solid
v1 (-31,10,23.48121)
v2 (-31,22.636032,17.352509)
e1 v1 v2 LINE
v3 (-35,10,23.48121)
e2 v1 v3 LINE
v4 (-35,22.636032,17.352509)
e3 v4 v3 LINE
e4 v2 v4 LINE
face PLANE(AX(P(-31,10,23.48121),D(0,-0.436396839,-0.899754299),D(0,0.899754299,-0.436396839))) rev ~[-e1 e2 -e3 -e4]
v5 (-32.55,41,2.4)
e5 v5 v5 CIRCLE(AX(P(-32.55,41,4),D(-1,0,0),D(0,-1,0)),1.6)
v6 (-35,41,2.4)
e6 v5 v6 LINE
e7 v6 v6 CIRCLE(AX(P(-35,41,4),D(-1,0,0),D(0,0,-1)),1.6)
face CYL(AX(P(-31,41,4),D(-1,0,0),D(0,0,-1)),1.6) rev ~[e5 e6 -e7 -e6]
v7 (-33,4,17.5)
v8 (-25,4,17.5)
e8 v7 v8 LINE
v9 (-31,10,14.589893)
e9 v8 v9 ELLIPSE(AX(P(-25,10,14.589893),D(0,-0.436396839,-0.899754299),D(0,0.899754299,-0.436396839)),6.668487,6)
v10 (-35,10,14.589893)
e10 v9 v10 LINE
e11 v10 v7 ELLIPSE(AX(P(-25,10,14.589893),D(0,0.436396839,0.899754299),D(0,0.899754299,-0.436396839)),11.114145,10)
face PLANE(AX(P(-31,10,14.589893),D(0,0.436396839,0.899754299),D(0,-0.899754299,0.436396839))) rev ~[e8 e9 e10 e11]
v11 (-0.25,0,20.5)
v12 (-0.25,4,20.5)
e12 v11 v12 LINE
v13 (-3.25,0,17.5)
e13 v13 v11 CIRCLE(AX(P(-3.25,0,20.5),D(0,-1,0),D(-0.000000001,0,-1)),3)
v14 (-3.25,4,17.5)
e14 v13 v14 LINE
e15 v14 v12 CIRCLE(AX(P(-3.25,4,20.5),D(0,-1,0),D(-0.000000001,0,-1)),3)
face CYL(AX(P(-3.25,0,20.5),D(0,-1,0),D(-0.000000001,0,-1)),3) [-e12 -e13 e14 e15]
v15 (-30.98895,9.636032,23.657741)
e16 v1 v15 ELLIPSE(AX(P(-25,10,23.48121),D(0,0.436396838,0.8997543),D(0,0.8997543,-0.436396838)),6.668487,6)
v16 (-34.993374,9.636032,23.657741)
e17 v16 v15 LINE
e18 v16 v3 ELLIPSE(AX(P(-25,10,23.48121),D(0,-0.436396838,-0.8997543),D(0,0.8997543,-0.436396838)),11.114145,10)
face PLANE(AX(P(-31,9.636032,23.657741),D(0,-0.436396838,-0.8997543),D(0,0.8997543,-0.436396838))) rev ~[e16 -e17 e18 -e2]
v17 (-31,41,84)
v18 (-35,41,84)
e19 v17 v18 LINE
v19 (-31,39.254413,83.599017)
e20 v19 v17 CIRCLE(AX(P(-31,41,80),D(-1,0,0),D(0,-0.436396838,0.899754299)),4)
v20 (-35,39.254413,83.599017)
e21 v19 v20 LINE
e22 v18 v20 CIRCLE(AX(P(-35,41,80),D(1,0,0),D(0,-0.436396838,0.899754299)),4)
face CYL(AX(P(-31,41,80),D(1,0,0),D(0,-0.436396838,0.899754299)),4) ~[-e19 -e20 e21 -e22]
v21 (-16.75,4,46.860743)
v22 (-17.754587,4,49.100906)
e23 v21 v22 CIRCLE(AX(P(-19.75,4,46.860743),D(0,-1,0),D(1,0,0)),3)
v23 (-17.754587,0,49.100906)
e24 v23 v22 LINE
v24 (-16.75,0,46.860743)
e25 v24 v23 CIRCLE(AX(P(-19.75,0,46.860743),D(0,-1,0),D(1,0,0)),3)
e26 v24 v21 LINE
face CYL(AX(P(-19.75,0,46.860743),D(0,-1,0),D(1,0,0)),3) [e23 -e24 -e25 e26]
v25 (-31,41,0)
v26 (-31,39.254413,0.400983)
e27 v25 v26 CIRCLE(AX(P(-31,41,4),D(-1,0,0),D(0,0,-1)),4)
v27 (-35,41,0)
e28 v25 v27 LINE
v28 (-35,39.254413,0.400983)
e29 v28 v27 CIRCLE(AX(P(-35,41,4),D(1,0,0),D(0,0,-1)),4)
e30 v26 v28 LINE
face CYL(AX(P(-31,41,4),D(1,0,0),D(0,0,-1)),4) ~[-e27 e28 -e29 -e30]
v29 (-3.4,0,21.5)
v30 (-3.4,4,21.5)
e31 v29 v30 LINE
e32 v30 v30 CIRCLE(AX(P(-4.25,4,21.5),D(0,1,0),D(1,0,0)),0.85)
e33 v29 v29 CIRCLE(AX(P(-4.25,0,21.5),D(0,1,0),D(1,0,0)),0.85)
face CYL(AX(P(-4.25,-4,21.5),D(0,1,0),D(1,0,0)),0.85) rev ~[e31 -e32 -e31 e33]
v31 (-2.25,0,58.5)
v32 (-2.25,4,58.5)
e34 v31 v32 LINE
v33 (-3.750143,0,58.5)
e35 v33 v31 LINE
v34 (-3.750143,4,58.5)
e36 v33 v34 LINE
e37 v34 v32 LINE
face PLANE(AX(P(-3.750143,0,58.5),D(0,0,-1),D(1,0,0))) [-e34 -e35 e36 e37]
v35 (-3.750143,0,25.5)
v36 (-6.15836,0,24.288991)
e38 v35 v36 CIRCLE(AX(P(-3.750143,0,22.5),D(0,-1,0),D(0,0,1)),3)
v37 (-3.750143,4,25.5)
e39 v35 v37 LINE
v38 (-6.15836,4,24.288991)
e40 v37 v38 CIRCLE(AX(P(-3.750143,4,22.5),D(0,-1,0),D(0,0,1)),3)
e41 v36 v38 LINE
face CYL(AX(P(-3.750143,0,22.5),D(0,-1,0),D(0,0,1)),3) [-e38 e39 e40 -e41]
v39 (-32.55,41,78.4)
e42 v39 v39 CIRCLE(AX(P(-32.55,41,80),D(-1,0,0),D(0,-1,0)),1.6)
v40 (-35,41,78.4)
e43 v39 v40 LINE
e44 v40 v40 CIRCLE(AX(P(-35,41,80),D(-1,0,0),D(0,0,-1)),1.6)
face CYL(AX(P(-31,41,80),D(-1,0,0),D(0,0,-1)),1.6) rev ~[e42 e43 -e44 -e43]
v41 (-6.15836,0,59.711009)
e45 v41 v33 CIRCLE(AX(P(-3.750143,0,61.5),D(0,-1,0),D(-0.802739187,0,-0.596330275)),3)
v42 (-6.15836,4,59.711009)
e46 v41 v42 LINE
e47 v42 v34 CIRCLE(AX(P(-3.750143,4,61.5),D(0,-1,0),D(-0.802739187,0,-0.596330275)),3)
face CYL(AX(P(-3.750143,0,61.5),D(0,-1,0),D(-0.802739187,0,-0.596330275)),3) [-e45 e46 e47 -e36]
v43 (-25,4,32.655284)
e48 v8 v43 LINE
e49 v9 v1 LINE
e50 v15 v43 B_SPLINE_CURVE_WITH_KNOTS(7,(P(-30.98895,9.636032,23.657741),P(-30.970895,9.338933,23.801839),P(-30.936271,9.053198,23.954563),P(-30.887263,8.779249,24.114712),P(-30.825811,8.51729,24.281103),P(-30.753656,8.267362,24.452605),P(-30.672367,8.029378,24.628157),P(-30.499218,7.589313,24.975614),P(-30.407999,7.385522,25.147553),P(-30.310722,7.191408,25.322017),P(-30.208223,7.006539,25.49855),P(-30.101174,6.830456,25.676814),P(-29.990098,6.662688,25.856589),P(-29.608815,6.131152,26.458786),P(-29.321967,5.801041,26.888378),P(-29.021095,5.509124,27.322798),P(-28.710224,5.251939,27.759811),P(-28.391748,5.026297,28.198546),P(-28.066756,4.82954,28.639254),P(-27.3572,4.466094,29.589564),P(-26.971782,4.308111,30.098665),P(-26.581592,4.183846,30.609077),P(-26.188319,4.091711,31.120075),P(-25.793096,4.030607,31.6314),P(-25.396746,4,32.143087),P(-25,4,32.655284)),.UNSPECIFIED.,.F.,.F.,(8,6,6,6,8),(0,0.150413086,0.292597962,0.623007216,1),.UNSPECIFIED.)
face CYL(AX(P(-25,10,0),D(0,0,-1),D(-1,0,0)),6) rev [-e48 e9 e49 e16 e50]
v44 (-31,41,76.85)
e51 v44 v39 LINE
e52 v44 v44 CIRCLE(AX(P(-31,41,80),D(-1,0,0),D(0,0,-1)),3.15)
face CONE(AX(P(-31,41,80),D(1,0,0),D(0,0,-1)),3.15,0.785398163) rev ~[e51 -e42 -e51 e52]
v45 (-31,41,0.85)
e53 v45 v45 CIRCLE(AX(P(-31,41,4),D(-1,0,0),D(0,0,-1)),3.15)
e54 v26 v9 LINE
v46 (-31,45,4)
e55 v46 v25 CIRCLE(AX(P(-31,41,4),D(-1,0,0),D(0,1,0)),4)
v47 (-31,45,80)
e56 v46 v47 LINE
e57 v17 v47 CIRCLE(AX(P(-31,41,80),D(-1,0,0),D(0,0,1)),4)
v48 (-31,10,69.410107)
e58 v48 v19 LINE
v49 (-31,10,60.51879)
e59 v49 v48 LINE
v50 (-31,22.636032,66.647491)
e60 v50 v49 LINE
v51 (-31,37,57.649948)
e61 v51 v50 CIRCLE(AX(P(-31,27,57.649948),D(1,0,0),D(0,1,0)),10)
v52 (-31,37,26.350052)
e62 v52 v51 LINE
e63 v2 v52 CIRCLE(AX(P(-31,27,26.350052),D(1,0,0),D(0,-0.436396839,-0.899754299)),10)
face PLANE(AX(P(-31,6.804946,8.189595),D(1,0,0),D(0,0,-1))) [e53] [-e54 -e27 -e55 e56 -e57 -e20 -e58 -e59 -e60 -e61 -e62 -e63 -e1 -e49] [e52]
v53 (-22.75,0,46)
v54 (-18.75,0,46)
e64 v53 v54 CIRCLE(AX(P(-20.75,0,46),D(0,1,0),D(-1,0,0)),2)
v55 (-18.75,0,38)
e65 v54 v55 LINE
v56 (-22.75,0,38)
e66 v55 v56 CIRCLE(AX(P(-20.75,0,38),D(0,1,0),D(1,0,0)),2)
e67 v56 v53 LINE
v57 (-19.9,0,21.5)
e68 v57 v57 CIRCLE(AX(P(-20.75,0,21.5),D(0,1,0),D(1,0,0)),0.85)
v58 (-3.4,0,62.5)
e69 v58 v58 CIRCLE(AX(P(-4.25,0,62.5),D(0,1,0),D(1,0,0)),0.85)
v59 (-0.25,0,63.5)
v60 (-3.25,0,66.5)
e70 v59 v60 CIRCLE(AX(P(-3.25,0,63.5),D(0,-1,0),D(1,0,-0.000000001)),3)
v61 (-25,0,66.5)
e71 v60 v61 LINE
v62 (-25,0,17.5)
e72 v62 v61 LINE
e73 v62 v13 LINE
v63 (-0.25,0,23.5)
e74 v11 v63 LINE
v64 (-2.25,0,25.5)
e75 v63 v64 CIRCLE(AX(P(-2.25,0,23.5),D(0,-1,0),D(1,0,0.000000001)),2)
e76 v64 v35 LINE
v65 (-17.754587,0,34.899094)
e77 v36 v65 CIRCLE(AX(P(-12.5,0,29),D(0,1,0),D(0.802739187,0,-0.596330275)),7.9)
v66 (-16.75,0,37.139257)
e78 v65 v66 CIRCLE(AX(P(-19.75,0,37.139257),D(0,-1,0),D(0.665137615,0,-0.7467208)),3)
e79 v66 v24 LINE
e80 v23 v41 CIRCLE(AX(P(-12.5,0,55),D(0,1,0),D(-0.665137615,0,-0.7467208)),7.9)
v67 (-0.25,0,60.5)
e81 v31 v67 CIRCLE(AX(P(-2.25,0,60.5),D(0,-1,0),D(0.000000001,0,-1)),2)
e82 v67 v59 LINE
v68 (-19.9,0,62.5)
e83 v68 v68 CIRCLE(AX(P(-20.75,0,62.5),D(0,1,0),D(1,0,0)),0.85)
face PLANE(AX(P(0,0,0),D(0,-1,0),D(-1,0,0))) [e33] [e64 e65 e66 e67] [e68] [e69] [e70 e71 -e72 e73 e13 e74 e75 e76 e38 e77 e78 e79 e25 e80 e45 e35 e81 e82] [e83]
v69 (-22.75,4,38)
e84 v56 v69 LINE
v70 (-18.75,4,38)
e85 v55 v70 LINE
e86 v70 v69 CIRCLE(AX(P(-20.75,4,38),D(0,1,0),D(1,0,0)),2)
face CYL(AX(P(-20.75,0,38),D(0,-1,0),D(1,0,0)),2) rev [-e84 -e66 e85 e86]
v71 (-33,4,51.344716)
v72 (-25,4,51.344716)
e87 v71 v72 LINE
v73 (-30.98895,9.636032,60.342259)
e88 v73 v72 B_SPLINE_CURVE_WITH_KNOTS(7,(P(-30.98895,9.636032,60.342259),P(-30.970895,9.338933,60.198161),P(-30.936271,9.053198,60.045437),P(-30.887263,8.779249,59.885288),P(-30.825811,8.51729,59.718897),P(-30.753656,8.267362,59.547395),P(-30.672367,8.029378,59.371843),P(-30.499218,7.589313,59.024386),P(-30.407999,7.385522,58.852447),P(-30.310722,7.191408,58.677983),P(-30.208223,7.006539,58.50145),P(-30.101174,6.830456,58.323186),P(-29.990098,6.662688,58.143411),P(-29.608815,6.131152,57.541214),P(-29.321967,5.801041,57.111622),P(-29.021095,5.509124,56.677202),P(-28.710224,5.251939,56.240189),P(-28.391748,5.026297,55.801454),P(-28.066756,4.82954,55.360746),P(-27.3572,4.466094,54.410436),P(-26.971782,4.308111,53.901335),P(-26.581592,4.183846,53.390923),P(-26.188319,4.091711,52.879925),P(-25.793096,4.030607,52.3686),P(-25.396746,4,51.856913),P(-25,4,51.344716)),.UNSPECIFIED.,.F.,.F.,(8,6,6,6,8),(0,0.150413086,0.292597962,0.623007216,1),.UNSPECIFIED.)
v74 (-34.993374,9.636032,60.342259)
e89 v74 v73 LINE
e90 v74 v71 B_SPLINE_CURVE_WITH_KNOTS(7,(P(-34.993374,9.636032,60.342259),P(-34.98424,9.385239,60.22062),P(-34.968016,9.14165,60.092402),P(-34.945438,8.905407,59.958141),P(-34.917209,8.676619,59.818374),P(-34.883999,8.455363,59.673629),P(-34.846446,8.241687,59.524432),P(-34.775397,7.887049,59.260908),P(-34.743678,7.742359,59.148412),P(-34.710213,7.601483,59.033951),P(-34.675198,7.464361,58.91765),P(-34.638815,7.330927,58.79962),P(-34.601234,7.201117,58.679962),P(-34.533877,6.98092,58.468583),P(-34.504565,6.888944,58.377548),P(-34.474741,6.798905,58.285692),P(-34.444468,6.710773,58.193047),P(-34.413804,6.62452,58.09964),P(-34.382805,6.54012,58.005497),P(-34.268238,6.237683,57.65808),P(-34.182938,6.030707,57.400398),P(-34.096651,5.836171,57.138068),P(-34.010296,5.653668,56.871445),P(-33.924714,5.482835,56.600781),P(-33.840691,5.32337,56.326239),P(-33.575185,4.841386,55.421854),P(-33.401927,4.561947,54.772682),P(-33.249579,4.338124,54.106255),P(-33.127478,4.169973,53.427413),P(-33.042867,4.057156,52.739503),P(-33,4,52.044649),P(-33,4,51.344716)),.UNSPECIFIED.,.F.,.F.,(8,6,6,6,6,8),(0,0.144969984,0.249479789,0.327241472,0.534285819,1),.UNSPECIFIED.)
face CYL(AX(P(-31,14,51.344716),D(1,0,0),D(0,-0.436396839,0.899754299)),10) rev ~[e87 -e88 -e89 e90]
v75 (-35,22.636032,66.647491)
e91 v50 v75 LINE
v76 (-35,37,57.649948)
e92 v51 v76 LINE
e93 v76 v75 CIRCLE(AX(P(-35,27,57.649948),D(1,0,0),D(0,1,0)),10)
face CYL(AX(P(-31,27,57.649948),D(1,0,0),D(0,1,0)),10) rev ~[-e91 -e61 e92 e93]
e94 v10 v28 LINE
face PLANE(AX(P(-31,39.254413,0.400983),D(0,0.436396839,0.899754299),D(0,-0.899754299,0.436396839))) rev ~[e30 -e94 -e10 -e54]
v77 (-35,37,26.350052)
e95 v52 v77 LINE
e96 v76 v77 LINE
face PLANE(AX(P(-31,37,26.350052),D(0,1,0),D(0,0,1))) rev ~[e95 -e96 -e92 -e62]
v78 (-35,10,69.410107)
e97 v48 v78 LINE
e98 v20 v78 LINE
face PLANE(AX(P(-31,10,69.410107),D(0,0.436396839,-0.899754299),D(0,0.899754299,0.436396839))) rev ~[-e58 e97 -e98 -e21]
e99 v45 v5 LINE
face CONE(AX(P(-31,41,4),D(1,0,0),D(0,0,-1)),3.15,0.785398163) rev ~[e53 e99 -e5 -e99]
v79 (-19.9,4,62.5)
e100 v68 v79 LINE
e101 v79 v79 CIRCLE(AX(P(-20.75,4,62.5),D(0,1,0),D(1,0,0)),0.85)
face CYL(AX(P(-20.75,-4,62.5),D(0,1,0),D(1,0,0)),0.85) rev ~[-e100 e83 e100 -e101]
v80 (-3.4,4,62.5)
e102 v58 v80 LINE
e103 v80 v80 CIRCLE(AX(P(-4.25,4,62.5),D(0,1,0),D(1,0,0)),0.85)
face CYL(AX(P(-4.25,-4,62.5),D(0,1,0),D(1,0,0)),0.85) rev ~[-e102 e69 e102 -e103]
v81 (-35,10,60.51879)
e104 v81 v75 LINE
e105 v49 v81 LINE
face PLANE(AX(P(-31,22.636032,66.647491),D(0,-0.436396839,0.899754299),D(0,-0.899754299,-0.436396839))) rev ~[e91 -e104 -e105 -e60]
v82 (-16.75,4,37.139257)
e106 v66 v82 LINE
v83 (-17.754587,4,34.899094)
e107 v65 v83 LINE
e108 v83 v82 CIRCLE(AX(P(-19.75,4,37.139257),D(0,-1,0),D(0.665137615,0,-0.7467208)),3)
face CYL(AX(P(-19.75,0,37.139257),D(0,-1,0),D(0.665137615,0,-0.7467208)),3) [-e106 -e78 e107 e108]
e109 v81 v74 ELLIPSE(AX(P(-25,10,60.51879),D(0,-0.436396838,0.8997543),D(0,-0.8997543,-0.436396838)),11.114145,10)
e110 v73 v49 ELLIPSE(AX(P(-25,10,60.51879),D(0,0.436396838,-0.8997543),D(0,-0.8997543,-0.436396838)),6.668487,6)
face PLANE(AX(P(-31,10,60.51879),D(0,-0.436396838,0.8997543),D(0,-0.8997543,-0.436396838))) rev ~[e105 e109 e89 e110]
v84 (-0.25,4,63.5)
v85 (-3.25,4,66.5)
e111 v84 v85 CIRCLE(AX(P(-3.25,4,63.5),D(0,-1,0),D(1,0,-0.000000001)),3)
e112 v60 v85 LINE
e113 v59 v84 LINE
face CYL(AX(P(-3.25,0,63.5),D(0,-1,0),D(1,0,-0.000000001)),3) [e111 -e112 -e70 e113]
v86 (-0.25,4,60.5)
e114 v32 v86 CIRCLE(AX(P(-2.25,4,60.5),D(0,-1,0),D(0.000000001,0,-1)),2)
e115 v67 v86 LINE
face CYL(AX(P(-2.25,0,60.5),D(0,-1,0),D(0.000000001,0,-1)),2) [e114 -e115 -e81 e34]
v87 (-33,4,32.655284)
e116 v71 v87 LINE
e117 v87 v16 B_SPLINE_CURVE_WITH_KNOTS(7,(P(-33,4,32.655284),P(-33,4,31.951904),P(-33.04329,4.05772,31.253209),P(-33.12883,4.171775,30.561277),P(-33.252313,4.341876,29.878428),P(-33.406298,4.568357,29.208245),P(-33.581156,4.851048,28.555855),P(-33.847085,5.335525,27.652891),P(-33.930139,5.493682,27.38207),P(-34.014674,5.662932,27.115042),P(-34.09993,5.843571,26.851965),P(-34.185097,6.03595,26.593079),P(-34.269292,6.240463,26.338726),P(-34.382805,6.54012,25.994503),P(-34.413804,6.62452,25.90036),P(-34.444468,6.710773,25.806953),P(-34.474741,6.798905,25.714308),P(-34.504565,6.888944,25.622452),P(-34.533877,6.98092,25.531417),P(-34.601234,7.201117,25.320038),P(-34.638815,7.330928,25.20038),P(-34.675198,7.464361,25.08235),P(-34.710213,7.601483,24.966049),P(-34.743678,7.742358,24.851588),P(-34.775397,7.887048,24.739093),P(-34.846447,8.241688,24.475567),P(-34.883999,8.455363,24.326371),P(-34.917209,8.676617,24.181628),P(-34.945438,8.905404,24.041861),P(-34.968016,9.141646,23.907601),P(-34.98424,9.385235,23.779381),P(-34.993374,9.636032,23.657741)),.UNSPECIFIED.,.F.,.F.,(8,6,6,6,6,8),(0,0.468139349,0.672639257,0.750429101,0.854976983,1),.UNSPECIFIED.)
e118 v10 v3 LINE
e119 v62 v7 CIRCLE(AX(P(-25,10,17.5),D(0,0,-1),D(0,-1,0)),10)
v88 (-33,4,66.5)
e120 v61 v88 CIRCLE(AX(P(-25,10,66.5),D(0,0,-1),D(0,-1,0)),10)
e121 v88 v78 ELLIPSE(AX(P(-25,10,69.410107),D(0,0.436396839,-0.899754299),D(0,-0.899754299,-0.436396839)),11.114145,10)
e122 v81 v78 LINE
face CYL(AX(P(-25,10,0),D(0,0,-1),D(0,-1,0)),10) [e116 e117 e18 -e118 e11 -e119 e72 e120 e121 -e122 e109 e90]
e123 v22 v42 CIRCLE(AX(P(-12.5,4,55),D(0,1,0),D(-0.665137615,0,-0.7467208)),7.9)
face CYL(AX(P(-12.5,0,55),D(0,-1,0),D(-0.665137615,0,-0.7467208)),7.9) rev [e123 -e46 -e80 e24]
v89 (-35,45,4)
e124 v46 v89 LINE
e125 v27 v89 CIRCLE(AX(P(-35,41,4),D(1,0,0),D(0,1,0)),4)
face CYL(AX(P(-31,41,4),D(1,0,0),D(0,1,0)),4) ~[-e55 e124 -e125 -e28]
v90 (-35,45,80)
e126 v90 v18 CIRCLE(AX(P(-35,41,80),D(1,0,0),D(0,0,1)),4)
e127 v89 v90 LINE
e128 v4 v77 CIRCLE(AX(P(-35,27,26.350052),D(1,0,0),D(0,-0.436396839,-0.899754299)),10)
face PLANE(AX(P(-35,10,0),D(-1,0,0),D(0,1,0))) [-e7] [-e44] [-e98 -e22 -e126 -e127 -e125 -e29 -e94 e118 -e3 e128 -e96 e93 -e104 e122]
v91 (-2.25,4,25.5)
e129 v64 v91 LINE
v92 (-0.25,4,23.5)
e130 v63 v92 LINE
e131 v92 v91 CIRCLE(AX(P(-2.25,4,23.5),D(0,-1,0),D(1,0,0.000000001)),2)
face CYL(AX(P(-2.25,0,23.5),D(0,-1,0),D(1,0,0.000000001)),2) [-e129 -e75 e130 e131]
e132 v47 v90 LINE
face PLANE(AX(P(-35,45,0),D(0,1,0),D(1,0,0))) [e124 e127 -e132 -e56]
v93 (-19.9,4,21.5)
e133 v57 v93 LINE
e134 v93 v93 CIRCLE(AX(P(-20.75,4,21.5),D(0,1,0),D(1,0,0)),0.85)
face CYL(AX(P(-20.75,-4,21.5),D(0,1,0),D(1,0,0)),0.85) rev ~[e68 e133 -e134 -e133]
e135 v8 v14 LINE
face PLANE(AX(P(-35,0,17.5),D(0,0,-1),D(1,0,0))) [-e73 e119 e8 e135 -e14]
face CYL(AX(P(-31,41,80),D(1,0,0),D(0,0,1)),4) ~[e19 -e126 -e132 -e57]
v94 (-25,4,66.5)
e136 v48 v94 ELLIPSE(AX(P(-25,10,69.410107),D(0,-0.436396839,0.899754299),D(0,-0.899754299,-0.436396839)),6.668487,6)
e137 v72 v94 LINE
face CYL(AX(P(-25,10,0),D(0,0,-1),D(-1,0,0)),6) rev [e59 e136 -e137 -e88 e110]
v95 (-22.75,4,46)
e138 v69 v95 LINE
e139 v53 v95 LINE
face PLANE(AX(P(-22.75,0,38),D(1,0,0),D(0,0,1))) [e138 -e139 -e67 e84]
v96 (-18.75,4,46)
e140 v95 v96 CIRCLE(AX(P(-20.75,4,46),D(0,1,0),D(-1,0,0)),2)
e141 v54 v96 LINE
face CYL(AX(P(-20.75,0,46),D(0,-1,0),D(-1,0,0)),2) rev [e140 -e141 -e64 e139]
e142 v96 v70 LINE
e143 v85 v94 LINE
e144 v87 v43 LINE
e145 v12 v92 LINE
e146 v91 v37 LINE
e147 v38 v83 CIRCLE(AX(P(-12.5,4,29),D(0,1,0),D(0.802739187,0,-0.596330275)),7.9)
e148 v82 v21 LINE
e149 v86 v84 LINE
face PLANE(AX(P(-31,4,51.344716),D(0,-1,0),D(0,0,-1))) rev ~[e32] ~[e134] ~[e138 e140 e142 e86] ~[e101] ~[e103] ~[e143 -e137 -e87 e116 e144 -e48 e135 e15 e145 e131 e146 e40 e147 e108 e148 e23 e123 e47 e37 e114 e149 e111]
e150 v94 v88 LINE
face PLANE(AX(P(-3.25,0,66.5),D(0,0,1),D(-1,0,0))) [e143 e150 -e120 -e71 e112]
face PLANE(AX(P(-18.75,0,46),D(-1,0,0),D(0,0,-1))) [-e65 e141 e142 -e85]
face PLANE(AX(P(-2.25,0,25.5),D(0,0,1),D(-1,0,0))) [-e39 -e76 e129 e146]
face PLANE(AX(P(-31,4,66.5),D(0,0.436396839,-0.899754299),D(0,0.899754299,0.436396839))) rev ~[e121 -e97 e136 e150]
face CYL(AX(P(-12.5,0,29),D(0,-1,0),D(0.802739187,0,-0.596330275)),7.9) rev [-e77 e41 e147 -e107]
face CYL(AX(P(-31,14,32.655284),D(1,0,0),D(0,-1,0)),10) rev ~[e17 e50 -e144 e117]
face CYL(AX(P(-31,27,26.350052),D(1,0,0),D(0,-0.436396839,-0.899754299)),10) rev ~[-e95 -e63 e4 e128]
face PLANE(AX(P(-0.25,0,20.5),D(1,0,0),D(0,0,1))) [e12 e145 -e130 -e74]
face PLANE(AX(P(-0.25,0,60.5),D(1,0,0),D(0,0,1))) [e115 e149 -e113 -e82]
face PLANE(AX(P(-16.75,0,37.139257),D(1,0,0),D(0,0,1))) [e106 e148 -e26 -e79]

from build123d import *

# Parameters (mm, degrees)
BOSS_EXTRU_1_DEPTH                             = 84
FRAISAGE_POUR_VIS_T_TE_FRAIS_E_M31_D           = 3.2
FRAISAGE_POUR_VIS_T_TE_FRAIS_E_M31_DEPTH       = 4
FRAISAGE_POUR_VIS_T_TE_FRAIS_E_M31_CSINK_D     = 6.3
FRAISAGE_POUR_VIS_T_TE_FRAIS_E_M31_CSINK_ANGLE = 90
D_GAGEMENT_M1_61_D                             = 1.7
D_GAGEMENT_M1_61_DEPTH                         = 4
ENL_V_MAT_EXTRU_1_DEPTH                        = 4
ENL_V_MAT_EXTRU_2_DEPTH                        = 31.75
ENL_V_MAT_EXTRU_2_DEPTH_BACK                   = 5


with BuildPart() as part:
    # Esquisse1 → Boss.-Extru.1 (new body)
    with BuildSketch(Plane.XY):
        with BuildLine():
            Line((0, 0), (-25, 0))
            ThreePointArc((-25, 0), (-32.071067812, 2.928932188), (-35, 10))
            Line((-35, 10), (-35, 45))
            Line((-35, 45), (-31, 45))
            Line((-31, 45), (-31, 10))
            ThreePointArc((-31, 10), (-29.242640687, 5.757359313), (-25, 4))
            Line((-25, 4), (0, 4))
            Line((0, 4), (0, 0))
        make_face()
    extrude(amount=BOSS_EXTRU_1_DEPTH)

    # Fraisage pour vis à tête fraisée M31
    with Locations(Plane(origin=(-31, 0, 0), x_dir=(0, 0, 1), z_dir=(1, 0, 0))):
        with Locations((4, -41), (80, -41)):
            CounterSinkHole(FRAISAGE_POUR_VIS_T_TE_FRAIS_E_M31_D / 2, FRAISAGE_POUR_VIS_T_TE_FRAIS_E_M31_CSINK_D / 2, depth=FRAISAGE_POUR_VIS_T_TE_FRAIS_E_M31_DEPTH, counter_sink_angle=FRAISAGE_POUR_VIS_T_TE_FRAIS_E_M31_CSINK_ANGLE)

    # Dégagement M1.61
    with Locations(Plane(origin=(0, 0, 0), x_dir=(-1, 0, 0), z_dir=(0, -1, 0))):
        with Locations((20.75, -21.5), (20.75, -62.5), (4.25, -62.5), (4.25, -21.5)):
            Hole(D_GAGEMENT_M1_61_D / 2, depth=D_GAGEMENT_M1_61_DEPTH)

    # Esquisse6 → Enlèv. mat.-Extru.1 (cut)
    with BuildSketch(Plane.XZ):
        with BuildLine():
            Line((-35, 17.5), (-3.25, 17.5))
            ThreePointArc((-3.25, 17.5), (-1.128679656, 18.378679656), (-0.25, 20.5))
            Line((-0.25, 20.5), (-0.25, 23.5))
            ThreePointArc((-0.25, 23.5), (-0.835786438, 24.914213562), (-2.25, 25.5))
            Line((-2.25, 25.5), (-3.750142858, 25.5))
            ThreePointArc((-3.750142858, 25.5), (-5.097923909, 25.180202649), (-6.15836042, 24.288990826))
            ThreePointArc((-6.15836042, 24.288990826), (-17.832822404, 23.171534919), (-17.754587156, 34.899094322))
            ThreePointArc((-17.754587156, 34.899094322), (-17.012643745, 35.911706018), (-16.75, 37.139256723))
            Line((-16.75, 37.139256723), (-16.75, 46.860743277))
            ThreePointArc((-16.75, 46.860743277), (-17.012643745, 48.088293982), (-17.754587156, 49.100905678))
            ThreePointArc((-17.754587156, 49.100905678), (-17.832822404, 60.828465081), (-6.15836042, 59.711009174))
            ThreePointArc((-6.15836042, 59.711009174), (-5.097923909, 58.819797351), (-3.750142858, 58.5))
            Line((-3.750142858, 58.5), (-2.25, 58.5))
            ThreePointArc((-2.25, 58.5), (-0.835786438, 59.085786438), (-0.25, 60.5))
            Line((-0.25, 60.5), (-0.25, 63.5))
            ThreePointArc((-0.25, 63.5), (-1.128679656, 65.621320344), (-3.25, 66.5))
            Line((-3.25, 66.5), (-35, 66.5))
            Line((-35, 66.5), (-35, 84))
            Line((-35, 84), (0, 84))
            Line((0, 84), (0, 0))
            Line((0, 0), (-35, 0))
            Line((-35, 0), (-35, 17.5))
        make_face()
        with BuildLine():
            Line((-18.75, 46), (-18.75, 38))
            ThreePointArc((-18.75, 38), (-20.75, 36), (-22.75, 38))
            Line((-22.75, 38), (-22.75, 46))
            ThreePointArc((-22.75, 46), (-20.75, 48), (-18.75, 46))
        make_face()
    extrude(amount=-ENL_V_MAT_EXTRU_1_DEPTH, mode=Mode.SUBTRACT)

    # Esquisse7 → Enlèv. mat.-Extru.2 (cut, two sides)
    with BuildSketch(Plane(origin=(-31, 0, 0), x_dir=(0, 0, -1), z_dir=(1, 0, 0))) as enl_v_mat_extru_2_sk:
        with BuildLine():
            Line((-60.518790495, 10), (-23.481209505, 10))
            Line((-23.481209505, 10), (-17.352509418, 22.636031611))
            ThreePointArc((-17.352509418, 22.636031611), (-17.875393601, 32.308498663), (-26.350052411, 37))
            Line((-26.350052411, 37), (-57.649947589, 37))
            ThreePointArc((-57.649947589, 37), (-66.124606399, 32.308498663), (-66.647490582, 22.636031611))
            Line((-66.647490582, 22.636031611), (-60.518790495, 10))
        make_face()
        with BuildLine():
            Line((-23.657740647, 9.636031611), (-23.481209505, 10))
            Line((-23.481209505, 10), (-60.518790495, 10))
            Line((-60.518790495, 10), (-60.342259353, 9.636031611))
            ThreePointArc((-60.342259353, 9.636031611), (-56.653215023, 5.52534119), (-51.34471636, 4))
            Line((-51.34471636, 4), (-32.65528364, 4))
            ThreePointArc((-32.65528364, 4), (-27.346784977, 5.52534119), (-23.657740647, 9.636031611))
        make_face()
        Polygon((0, 4), (0, 10), (-14.589893279, 10), (-17.5, 4), align=None)
        with BuildLine():
            Line((0, 10), (0, 41))
            ThreePointArc((0, 41), (-0.101534354, 40.104474676), (-0.400982803, 39.254412644))
            Line((-0.400982803, 39.254412644), (-14.589893279, 10))
            Line((-14.589893279, 10), (0, 10))
        make_face()
        with BuildLine():
            ThreePointArc((-4, 45), (-1.171572875, 43.828427125), (0, 41))
            Line((0, 41), (0, 45))
            Line((0, 45), (-4, 45))
        make_face()
        with BuildLine():
            ThreePointArc((-83.599017197, 39.254412644), (-83.898465646, 40.104474676), (-84, 41))
            Line((-84, 41), (-84, 10))
            Line((-84, 10), (-69.410106721, 10))
            Line((-69.410106721, 10), (-83.599017197, 39.254412644))
        make_face()
        Polygon((-69.410106721, 10), (-84, 10), (-84, 4), (-66.5, 4), align=None)
        with BuildLine():
            ThreePointArc((-84, 41), (-82.828427125, 43.828427125), (-80, 45))
            Line((-80, 45), (-84, 45))
            Line((-84, 45), (-84, 41))
        make_face()
    extrude(amount=ENL_V_MAT_EXTRU_2_DEPTH, mode=Mode.SUBTRACT)
    extrude(enl_v_mat_extru_2_sk.sketch, amount=-ENL_V_MAT_EXTRU_2_DEPTH_BACK, mode=Mode.SUBTRACT)


solid = part.part
